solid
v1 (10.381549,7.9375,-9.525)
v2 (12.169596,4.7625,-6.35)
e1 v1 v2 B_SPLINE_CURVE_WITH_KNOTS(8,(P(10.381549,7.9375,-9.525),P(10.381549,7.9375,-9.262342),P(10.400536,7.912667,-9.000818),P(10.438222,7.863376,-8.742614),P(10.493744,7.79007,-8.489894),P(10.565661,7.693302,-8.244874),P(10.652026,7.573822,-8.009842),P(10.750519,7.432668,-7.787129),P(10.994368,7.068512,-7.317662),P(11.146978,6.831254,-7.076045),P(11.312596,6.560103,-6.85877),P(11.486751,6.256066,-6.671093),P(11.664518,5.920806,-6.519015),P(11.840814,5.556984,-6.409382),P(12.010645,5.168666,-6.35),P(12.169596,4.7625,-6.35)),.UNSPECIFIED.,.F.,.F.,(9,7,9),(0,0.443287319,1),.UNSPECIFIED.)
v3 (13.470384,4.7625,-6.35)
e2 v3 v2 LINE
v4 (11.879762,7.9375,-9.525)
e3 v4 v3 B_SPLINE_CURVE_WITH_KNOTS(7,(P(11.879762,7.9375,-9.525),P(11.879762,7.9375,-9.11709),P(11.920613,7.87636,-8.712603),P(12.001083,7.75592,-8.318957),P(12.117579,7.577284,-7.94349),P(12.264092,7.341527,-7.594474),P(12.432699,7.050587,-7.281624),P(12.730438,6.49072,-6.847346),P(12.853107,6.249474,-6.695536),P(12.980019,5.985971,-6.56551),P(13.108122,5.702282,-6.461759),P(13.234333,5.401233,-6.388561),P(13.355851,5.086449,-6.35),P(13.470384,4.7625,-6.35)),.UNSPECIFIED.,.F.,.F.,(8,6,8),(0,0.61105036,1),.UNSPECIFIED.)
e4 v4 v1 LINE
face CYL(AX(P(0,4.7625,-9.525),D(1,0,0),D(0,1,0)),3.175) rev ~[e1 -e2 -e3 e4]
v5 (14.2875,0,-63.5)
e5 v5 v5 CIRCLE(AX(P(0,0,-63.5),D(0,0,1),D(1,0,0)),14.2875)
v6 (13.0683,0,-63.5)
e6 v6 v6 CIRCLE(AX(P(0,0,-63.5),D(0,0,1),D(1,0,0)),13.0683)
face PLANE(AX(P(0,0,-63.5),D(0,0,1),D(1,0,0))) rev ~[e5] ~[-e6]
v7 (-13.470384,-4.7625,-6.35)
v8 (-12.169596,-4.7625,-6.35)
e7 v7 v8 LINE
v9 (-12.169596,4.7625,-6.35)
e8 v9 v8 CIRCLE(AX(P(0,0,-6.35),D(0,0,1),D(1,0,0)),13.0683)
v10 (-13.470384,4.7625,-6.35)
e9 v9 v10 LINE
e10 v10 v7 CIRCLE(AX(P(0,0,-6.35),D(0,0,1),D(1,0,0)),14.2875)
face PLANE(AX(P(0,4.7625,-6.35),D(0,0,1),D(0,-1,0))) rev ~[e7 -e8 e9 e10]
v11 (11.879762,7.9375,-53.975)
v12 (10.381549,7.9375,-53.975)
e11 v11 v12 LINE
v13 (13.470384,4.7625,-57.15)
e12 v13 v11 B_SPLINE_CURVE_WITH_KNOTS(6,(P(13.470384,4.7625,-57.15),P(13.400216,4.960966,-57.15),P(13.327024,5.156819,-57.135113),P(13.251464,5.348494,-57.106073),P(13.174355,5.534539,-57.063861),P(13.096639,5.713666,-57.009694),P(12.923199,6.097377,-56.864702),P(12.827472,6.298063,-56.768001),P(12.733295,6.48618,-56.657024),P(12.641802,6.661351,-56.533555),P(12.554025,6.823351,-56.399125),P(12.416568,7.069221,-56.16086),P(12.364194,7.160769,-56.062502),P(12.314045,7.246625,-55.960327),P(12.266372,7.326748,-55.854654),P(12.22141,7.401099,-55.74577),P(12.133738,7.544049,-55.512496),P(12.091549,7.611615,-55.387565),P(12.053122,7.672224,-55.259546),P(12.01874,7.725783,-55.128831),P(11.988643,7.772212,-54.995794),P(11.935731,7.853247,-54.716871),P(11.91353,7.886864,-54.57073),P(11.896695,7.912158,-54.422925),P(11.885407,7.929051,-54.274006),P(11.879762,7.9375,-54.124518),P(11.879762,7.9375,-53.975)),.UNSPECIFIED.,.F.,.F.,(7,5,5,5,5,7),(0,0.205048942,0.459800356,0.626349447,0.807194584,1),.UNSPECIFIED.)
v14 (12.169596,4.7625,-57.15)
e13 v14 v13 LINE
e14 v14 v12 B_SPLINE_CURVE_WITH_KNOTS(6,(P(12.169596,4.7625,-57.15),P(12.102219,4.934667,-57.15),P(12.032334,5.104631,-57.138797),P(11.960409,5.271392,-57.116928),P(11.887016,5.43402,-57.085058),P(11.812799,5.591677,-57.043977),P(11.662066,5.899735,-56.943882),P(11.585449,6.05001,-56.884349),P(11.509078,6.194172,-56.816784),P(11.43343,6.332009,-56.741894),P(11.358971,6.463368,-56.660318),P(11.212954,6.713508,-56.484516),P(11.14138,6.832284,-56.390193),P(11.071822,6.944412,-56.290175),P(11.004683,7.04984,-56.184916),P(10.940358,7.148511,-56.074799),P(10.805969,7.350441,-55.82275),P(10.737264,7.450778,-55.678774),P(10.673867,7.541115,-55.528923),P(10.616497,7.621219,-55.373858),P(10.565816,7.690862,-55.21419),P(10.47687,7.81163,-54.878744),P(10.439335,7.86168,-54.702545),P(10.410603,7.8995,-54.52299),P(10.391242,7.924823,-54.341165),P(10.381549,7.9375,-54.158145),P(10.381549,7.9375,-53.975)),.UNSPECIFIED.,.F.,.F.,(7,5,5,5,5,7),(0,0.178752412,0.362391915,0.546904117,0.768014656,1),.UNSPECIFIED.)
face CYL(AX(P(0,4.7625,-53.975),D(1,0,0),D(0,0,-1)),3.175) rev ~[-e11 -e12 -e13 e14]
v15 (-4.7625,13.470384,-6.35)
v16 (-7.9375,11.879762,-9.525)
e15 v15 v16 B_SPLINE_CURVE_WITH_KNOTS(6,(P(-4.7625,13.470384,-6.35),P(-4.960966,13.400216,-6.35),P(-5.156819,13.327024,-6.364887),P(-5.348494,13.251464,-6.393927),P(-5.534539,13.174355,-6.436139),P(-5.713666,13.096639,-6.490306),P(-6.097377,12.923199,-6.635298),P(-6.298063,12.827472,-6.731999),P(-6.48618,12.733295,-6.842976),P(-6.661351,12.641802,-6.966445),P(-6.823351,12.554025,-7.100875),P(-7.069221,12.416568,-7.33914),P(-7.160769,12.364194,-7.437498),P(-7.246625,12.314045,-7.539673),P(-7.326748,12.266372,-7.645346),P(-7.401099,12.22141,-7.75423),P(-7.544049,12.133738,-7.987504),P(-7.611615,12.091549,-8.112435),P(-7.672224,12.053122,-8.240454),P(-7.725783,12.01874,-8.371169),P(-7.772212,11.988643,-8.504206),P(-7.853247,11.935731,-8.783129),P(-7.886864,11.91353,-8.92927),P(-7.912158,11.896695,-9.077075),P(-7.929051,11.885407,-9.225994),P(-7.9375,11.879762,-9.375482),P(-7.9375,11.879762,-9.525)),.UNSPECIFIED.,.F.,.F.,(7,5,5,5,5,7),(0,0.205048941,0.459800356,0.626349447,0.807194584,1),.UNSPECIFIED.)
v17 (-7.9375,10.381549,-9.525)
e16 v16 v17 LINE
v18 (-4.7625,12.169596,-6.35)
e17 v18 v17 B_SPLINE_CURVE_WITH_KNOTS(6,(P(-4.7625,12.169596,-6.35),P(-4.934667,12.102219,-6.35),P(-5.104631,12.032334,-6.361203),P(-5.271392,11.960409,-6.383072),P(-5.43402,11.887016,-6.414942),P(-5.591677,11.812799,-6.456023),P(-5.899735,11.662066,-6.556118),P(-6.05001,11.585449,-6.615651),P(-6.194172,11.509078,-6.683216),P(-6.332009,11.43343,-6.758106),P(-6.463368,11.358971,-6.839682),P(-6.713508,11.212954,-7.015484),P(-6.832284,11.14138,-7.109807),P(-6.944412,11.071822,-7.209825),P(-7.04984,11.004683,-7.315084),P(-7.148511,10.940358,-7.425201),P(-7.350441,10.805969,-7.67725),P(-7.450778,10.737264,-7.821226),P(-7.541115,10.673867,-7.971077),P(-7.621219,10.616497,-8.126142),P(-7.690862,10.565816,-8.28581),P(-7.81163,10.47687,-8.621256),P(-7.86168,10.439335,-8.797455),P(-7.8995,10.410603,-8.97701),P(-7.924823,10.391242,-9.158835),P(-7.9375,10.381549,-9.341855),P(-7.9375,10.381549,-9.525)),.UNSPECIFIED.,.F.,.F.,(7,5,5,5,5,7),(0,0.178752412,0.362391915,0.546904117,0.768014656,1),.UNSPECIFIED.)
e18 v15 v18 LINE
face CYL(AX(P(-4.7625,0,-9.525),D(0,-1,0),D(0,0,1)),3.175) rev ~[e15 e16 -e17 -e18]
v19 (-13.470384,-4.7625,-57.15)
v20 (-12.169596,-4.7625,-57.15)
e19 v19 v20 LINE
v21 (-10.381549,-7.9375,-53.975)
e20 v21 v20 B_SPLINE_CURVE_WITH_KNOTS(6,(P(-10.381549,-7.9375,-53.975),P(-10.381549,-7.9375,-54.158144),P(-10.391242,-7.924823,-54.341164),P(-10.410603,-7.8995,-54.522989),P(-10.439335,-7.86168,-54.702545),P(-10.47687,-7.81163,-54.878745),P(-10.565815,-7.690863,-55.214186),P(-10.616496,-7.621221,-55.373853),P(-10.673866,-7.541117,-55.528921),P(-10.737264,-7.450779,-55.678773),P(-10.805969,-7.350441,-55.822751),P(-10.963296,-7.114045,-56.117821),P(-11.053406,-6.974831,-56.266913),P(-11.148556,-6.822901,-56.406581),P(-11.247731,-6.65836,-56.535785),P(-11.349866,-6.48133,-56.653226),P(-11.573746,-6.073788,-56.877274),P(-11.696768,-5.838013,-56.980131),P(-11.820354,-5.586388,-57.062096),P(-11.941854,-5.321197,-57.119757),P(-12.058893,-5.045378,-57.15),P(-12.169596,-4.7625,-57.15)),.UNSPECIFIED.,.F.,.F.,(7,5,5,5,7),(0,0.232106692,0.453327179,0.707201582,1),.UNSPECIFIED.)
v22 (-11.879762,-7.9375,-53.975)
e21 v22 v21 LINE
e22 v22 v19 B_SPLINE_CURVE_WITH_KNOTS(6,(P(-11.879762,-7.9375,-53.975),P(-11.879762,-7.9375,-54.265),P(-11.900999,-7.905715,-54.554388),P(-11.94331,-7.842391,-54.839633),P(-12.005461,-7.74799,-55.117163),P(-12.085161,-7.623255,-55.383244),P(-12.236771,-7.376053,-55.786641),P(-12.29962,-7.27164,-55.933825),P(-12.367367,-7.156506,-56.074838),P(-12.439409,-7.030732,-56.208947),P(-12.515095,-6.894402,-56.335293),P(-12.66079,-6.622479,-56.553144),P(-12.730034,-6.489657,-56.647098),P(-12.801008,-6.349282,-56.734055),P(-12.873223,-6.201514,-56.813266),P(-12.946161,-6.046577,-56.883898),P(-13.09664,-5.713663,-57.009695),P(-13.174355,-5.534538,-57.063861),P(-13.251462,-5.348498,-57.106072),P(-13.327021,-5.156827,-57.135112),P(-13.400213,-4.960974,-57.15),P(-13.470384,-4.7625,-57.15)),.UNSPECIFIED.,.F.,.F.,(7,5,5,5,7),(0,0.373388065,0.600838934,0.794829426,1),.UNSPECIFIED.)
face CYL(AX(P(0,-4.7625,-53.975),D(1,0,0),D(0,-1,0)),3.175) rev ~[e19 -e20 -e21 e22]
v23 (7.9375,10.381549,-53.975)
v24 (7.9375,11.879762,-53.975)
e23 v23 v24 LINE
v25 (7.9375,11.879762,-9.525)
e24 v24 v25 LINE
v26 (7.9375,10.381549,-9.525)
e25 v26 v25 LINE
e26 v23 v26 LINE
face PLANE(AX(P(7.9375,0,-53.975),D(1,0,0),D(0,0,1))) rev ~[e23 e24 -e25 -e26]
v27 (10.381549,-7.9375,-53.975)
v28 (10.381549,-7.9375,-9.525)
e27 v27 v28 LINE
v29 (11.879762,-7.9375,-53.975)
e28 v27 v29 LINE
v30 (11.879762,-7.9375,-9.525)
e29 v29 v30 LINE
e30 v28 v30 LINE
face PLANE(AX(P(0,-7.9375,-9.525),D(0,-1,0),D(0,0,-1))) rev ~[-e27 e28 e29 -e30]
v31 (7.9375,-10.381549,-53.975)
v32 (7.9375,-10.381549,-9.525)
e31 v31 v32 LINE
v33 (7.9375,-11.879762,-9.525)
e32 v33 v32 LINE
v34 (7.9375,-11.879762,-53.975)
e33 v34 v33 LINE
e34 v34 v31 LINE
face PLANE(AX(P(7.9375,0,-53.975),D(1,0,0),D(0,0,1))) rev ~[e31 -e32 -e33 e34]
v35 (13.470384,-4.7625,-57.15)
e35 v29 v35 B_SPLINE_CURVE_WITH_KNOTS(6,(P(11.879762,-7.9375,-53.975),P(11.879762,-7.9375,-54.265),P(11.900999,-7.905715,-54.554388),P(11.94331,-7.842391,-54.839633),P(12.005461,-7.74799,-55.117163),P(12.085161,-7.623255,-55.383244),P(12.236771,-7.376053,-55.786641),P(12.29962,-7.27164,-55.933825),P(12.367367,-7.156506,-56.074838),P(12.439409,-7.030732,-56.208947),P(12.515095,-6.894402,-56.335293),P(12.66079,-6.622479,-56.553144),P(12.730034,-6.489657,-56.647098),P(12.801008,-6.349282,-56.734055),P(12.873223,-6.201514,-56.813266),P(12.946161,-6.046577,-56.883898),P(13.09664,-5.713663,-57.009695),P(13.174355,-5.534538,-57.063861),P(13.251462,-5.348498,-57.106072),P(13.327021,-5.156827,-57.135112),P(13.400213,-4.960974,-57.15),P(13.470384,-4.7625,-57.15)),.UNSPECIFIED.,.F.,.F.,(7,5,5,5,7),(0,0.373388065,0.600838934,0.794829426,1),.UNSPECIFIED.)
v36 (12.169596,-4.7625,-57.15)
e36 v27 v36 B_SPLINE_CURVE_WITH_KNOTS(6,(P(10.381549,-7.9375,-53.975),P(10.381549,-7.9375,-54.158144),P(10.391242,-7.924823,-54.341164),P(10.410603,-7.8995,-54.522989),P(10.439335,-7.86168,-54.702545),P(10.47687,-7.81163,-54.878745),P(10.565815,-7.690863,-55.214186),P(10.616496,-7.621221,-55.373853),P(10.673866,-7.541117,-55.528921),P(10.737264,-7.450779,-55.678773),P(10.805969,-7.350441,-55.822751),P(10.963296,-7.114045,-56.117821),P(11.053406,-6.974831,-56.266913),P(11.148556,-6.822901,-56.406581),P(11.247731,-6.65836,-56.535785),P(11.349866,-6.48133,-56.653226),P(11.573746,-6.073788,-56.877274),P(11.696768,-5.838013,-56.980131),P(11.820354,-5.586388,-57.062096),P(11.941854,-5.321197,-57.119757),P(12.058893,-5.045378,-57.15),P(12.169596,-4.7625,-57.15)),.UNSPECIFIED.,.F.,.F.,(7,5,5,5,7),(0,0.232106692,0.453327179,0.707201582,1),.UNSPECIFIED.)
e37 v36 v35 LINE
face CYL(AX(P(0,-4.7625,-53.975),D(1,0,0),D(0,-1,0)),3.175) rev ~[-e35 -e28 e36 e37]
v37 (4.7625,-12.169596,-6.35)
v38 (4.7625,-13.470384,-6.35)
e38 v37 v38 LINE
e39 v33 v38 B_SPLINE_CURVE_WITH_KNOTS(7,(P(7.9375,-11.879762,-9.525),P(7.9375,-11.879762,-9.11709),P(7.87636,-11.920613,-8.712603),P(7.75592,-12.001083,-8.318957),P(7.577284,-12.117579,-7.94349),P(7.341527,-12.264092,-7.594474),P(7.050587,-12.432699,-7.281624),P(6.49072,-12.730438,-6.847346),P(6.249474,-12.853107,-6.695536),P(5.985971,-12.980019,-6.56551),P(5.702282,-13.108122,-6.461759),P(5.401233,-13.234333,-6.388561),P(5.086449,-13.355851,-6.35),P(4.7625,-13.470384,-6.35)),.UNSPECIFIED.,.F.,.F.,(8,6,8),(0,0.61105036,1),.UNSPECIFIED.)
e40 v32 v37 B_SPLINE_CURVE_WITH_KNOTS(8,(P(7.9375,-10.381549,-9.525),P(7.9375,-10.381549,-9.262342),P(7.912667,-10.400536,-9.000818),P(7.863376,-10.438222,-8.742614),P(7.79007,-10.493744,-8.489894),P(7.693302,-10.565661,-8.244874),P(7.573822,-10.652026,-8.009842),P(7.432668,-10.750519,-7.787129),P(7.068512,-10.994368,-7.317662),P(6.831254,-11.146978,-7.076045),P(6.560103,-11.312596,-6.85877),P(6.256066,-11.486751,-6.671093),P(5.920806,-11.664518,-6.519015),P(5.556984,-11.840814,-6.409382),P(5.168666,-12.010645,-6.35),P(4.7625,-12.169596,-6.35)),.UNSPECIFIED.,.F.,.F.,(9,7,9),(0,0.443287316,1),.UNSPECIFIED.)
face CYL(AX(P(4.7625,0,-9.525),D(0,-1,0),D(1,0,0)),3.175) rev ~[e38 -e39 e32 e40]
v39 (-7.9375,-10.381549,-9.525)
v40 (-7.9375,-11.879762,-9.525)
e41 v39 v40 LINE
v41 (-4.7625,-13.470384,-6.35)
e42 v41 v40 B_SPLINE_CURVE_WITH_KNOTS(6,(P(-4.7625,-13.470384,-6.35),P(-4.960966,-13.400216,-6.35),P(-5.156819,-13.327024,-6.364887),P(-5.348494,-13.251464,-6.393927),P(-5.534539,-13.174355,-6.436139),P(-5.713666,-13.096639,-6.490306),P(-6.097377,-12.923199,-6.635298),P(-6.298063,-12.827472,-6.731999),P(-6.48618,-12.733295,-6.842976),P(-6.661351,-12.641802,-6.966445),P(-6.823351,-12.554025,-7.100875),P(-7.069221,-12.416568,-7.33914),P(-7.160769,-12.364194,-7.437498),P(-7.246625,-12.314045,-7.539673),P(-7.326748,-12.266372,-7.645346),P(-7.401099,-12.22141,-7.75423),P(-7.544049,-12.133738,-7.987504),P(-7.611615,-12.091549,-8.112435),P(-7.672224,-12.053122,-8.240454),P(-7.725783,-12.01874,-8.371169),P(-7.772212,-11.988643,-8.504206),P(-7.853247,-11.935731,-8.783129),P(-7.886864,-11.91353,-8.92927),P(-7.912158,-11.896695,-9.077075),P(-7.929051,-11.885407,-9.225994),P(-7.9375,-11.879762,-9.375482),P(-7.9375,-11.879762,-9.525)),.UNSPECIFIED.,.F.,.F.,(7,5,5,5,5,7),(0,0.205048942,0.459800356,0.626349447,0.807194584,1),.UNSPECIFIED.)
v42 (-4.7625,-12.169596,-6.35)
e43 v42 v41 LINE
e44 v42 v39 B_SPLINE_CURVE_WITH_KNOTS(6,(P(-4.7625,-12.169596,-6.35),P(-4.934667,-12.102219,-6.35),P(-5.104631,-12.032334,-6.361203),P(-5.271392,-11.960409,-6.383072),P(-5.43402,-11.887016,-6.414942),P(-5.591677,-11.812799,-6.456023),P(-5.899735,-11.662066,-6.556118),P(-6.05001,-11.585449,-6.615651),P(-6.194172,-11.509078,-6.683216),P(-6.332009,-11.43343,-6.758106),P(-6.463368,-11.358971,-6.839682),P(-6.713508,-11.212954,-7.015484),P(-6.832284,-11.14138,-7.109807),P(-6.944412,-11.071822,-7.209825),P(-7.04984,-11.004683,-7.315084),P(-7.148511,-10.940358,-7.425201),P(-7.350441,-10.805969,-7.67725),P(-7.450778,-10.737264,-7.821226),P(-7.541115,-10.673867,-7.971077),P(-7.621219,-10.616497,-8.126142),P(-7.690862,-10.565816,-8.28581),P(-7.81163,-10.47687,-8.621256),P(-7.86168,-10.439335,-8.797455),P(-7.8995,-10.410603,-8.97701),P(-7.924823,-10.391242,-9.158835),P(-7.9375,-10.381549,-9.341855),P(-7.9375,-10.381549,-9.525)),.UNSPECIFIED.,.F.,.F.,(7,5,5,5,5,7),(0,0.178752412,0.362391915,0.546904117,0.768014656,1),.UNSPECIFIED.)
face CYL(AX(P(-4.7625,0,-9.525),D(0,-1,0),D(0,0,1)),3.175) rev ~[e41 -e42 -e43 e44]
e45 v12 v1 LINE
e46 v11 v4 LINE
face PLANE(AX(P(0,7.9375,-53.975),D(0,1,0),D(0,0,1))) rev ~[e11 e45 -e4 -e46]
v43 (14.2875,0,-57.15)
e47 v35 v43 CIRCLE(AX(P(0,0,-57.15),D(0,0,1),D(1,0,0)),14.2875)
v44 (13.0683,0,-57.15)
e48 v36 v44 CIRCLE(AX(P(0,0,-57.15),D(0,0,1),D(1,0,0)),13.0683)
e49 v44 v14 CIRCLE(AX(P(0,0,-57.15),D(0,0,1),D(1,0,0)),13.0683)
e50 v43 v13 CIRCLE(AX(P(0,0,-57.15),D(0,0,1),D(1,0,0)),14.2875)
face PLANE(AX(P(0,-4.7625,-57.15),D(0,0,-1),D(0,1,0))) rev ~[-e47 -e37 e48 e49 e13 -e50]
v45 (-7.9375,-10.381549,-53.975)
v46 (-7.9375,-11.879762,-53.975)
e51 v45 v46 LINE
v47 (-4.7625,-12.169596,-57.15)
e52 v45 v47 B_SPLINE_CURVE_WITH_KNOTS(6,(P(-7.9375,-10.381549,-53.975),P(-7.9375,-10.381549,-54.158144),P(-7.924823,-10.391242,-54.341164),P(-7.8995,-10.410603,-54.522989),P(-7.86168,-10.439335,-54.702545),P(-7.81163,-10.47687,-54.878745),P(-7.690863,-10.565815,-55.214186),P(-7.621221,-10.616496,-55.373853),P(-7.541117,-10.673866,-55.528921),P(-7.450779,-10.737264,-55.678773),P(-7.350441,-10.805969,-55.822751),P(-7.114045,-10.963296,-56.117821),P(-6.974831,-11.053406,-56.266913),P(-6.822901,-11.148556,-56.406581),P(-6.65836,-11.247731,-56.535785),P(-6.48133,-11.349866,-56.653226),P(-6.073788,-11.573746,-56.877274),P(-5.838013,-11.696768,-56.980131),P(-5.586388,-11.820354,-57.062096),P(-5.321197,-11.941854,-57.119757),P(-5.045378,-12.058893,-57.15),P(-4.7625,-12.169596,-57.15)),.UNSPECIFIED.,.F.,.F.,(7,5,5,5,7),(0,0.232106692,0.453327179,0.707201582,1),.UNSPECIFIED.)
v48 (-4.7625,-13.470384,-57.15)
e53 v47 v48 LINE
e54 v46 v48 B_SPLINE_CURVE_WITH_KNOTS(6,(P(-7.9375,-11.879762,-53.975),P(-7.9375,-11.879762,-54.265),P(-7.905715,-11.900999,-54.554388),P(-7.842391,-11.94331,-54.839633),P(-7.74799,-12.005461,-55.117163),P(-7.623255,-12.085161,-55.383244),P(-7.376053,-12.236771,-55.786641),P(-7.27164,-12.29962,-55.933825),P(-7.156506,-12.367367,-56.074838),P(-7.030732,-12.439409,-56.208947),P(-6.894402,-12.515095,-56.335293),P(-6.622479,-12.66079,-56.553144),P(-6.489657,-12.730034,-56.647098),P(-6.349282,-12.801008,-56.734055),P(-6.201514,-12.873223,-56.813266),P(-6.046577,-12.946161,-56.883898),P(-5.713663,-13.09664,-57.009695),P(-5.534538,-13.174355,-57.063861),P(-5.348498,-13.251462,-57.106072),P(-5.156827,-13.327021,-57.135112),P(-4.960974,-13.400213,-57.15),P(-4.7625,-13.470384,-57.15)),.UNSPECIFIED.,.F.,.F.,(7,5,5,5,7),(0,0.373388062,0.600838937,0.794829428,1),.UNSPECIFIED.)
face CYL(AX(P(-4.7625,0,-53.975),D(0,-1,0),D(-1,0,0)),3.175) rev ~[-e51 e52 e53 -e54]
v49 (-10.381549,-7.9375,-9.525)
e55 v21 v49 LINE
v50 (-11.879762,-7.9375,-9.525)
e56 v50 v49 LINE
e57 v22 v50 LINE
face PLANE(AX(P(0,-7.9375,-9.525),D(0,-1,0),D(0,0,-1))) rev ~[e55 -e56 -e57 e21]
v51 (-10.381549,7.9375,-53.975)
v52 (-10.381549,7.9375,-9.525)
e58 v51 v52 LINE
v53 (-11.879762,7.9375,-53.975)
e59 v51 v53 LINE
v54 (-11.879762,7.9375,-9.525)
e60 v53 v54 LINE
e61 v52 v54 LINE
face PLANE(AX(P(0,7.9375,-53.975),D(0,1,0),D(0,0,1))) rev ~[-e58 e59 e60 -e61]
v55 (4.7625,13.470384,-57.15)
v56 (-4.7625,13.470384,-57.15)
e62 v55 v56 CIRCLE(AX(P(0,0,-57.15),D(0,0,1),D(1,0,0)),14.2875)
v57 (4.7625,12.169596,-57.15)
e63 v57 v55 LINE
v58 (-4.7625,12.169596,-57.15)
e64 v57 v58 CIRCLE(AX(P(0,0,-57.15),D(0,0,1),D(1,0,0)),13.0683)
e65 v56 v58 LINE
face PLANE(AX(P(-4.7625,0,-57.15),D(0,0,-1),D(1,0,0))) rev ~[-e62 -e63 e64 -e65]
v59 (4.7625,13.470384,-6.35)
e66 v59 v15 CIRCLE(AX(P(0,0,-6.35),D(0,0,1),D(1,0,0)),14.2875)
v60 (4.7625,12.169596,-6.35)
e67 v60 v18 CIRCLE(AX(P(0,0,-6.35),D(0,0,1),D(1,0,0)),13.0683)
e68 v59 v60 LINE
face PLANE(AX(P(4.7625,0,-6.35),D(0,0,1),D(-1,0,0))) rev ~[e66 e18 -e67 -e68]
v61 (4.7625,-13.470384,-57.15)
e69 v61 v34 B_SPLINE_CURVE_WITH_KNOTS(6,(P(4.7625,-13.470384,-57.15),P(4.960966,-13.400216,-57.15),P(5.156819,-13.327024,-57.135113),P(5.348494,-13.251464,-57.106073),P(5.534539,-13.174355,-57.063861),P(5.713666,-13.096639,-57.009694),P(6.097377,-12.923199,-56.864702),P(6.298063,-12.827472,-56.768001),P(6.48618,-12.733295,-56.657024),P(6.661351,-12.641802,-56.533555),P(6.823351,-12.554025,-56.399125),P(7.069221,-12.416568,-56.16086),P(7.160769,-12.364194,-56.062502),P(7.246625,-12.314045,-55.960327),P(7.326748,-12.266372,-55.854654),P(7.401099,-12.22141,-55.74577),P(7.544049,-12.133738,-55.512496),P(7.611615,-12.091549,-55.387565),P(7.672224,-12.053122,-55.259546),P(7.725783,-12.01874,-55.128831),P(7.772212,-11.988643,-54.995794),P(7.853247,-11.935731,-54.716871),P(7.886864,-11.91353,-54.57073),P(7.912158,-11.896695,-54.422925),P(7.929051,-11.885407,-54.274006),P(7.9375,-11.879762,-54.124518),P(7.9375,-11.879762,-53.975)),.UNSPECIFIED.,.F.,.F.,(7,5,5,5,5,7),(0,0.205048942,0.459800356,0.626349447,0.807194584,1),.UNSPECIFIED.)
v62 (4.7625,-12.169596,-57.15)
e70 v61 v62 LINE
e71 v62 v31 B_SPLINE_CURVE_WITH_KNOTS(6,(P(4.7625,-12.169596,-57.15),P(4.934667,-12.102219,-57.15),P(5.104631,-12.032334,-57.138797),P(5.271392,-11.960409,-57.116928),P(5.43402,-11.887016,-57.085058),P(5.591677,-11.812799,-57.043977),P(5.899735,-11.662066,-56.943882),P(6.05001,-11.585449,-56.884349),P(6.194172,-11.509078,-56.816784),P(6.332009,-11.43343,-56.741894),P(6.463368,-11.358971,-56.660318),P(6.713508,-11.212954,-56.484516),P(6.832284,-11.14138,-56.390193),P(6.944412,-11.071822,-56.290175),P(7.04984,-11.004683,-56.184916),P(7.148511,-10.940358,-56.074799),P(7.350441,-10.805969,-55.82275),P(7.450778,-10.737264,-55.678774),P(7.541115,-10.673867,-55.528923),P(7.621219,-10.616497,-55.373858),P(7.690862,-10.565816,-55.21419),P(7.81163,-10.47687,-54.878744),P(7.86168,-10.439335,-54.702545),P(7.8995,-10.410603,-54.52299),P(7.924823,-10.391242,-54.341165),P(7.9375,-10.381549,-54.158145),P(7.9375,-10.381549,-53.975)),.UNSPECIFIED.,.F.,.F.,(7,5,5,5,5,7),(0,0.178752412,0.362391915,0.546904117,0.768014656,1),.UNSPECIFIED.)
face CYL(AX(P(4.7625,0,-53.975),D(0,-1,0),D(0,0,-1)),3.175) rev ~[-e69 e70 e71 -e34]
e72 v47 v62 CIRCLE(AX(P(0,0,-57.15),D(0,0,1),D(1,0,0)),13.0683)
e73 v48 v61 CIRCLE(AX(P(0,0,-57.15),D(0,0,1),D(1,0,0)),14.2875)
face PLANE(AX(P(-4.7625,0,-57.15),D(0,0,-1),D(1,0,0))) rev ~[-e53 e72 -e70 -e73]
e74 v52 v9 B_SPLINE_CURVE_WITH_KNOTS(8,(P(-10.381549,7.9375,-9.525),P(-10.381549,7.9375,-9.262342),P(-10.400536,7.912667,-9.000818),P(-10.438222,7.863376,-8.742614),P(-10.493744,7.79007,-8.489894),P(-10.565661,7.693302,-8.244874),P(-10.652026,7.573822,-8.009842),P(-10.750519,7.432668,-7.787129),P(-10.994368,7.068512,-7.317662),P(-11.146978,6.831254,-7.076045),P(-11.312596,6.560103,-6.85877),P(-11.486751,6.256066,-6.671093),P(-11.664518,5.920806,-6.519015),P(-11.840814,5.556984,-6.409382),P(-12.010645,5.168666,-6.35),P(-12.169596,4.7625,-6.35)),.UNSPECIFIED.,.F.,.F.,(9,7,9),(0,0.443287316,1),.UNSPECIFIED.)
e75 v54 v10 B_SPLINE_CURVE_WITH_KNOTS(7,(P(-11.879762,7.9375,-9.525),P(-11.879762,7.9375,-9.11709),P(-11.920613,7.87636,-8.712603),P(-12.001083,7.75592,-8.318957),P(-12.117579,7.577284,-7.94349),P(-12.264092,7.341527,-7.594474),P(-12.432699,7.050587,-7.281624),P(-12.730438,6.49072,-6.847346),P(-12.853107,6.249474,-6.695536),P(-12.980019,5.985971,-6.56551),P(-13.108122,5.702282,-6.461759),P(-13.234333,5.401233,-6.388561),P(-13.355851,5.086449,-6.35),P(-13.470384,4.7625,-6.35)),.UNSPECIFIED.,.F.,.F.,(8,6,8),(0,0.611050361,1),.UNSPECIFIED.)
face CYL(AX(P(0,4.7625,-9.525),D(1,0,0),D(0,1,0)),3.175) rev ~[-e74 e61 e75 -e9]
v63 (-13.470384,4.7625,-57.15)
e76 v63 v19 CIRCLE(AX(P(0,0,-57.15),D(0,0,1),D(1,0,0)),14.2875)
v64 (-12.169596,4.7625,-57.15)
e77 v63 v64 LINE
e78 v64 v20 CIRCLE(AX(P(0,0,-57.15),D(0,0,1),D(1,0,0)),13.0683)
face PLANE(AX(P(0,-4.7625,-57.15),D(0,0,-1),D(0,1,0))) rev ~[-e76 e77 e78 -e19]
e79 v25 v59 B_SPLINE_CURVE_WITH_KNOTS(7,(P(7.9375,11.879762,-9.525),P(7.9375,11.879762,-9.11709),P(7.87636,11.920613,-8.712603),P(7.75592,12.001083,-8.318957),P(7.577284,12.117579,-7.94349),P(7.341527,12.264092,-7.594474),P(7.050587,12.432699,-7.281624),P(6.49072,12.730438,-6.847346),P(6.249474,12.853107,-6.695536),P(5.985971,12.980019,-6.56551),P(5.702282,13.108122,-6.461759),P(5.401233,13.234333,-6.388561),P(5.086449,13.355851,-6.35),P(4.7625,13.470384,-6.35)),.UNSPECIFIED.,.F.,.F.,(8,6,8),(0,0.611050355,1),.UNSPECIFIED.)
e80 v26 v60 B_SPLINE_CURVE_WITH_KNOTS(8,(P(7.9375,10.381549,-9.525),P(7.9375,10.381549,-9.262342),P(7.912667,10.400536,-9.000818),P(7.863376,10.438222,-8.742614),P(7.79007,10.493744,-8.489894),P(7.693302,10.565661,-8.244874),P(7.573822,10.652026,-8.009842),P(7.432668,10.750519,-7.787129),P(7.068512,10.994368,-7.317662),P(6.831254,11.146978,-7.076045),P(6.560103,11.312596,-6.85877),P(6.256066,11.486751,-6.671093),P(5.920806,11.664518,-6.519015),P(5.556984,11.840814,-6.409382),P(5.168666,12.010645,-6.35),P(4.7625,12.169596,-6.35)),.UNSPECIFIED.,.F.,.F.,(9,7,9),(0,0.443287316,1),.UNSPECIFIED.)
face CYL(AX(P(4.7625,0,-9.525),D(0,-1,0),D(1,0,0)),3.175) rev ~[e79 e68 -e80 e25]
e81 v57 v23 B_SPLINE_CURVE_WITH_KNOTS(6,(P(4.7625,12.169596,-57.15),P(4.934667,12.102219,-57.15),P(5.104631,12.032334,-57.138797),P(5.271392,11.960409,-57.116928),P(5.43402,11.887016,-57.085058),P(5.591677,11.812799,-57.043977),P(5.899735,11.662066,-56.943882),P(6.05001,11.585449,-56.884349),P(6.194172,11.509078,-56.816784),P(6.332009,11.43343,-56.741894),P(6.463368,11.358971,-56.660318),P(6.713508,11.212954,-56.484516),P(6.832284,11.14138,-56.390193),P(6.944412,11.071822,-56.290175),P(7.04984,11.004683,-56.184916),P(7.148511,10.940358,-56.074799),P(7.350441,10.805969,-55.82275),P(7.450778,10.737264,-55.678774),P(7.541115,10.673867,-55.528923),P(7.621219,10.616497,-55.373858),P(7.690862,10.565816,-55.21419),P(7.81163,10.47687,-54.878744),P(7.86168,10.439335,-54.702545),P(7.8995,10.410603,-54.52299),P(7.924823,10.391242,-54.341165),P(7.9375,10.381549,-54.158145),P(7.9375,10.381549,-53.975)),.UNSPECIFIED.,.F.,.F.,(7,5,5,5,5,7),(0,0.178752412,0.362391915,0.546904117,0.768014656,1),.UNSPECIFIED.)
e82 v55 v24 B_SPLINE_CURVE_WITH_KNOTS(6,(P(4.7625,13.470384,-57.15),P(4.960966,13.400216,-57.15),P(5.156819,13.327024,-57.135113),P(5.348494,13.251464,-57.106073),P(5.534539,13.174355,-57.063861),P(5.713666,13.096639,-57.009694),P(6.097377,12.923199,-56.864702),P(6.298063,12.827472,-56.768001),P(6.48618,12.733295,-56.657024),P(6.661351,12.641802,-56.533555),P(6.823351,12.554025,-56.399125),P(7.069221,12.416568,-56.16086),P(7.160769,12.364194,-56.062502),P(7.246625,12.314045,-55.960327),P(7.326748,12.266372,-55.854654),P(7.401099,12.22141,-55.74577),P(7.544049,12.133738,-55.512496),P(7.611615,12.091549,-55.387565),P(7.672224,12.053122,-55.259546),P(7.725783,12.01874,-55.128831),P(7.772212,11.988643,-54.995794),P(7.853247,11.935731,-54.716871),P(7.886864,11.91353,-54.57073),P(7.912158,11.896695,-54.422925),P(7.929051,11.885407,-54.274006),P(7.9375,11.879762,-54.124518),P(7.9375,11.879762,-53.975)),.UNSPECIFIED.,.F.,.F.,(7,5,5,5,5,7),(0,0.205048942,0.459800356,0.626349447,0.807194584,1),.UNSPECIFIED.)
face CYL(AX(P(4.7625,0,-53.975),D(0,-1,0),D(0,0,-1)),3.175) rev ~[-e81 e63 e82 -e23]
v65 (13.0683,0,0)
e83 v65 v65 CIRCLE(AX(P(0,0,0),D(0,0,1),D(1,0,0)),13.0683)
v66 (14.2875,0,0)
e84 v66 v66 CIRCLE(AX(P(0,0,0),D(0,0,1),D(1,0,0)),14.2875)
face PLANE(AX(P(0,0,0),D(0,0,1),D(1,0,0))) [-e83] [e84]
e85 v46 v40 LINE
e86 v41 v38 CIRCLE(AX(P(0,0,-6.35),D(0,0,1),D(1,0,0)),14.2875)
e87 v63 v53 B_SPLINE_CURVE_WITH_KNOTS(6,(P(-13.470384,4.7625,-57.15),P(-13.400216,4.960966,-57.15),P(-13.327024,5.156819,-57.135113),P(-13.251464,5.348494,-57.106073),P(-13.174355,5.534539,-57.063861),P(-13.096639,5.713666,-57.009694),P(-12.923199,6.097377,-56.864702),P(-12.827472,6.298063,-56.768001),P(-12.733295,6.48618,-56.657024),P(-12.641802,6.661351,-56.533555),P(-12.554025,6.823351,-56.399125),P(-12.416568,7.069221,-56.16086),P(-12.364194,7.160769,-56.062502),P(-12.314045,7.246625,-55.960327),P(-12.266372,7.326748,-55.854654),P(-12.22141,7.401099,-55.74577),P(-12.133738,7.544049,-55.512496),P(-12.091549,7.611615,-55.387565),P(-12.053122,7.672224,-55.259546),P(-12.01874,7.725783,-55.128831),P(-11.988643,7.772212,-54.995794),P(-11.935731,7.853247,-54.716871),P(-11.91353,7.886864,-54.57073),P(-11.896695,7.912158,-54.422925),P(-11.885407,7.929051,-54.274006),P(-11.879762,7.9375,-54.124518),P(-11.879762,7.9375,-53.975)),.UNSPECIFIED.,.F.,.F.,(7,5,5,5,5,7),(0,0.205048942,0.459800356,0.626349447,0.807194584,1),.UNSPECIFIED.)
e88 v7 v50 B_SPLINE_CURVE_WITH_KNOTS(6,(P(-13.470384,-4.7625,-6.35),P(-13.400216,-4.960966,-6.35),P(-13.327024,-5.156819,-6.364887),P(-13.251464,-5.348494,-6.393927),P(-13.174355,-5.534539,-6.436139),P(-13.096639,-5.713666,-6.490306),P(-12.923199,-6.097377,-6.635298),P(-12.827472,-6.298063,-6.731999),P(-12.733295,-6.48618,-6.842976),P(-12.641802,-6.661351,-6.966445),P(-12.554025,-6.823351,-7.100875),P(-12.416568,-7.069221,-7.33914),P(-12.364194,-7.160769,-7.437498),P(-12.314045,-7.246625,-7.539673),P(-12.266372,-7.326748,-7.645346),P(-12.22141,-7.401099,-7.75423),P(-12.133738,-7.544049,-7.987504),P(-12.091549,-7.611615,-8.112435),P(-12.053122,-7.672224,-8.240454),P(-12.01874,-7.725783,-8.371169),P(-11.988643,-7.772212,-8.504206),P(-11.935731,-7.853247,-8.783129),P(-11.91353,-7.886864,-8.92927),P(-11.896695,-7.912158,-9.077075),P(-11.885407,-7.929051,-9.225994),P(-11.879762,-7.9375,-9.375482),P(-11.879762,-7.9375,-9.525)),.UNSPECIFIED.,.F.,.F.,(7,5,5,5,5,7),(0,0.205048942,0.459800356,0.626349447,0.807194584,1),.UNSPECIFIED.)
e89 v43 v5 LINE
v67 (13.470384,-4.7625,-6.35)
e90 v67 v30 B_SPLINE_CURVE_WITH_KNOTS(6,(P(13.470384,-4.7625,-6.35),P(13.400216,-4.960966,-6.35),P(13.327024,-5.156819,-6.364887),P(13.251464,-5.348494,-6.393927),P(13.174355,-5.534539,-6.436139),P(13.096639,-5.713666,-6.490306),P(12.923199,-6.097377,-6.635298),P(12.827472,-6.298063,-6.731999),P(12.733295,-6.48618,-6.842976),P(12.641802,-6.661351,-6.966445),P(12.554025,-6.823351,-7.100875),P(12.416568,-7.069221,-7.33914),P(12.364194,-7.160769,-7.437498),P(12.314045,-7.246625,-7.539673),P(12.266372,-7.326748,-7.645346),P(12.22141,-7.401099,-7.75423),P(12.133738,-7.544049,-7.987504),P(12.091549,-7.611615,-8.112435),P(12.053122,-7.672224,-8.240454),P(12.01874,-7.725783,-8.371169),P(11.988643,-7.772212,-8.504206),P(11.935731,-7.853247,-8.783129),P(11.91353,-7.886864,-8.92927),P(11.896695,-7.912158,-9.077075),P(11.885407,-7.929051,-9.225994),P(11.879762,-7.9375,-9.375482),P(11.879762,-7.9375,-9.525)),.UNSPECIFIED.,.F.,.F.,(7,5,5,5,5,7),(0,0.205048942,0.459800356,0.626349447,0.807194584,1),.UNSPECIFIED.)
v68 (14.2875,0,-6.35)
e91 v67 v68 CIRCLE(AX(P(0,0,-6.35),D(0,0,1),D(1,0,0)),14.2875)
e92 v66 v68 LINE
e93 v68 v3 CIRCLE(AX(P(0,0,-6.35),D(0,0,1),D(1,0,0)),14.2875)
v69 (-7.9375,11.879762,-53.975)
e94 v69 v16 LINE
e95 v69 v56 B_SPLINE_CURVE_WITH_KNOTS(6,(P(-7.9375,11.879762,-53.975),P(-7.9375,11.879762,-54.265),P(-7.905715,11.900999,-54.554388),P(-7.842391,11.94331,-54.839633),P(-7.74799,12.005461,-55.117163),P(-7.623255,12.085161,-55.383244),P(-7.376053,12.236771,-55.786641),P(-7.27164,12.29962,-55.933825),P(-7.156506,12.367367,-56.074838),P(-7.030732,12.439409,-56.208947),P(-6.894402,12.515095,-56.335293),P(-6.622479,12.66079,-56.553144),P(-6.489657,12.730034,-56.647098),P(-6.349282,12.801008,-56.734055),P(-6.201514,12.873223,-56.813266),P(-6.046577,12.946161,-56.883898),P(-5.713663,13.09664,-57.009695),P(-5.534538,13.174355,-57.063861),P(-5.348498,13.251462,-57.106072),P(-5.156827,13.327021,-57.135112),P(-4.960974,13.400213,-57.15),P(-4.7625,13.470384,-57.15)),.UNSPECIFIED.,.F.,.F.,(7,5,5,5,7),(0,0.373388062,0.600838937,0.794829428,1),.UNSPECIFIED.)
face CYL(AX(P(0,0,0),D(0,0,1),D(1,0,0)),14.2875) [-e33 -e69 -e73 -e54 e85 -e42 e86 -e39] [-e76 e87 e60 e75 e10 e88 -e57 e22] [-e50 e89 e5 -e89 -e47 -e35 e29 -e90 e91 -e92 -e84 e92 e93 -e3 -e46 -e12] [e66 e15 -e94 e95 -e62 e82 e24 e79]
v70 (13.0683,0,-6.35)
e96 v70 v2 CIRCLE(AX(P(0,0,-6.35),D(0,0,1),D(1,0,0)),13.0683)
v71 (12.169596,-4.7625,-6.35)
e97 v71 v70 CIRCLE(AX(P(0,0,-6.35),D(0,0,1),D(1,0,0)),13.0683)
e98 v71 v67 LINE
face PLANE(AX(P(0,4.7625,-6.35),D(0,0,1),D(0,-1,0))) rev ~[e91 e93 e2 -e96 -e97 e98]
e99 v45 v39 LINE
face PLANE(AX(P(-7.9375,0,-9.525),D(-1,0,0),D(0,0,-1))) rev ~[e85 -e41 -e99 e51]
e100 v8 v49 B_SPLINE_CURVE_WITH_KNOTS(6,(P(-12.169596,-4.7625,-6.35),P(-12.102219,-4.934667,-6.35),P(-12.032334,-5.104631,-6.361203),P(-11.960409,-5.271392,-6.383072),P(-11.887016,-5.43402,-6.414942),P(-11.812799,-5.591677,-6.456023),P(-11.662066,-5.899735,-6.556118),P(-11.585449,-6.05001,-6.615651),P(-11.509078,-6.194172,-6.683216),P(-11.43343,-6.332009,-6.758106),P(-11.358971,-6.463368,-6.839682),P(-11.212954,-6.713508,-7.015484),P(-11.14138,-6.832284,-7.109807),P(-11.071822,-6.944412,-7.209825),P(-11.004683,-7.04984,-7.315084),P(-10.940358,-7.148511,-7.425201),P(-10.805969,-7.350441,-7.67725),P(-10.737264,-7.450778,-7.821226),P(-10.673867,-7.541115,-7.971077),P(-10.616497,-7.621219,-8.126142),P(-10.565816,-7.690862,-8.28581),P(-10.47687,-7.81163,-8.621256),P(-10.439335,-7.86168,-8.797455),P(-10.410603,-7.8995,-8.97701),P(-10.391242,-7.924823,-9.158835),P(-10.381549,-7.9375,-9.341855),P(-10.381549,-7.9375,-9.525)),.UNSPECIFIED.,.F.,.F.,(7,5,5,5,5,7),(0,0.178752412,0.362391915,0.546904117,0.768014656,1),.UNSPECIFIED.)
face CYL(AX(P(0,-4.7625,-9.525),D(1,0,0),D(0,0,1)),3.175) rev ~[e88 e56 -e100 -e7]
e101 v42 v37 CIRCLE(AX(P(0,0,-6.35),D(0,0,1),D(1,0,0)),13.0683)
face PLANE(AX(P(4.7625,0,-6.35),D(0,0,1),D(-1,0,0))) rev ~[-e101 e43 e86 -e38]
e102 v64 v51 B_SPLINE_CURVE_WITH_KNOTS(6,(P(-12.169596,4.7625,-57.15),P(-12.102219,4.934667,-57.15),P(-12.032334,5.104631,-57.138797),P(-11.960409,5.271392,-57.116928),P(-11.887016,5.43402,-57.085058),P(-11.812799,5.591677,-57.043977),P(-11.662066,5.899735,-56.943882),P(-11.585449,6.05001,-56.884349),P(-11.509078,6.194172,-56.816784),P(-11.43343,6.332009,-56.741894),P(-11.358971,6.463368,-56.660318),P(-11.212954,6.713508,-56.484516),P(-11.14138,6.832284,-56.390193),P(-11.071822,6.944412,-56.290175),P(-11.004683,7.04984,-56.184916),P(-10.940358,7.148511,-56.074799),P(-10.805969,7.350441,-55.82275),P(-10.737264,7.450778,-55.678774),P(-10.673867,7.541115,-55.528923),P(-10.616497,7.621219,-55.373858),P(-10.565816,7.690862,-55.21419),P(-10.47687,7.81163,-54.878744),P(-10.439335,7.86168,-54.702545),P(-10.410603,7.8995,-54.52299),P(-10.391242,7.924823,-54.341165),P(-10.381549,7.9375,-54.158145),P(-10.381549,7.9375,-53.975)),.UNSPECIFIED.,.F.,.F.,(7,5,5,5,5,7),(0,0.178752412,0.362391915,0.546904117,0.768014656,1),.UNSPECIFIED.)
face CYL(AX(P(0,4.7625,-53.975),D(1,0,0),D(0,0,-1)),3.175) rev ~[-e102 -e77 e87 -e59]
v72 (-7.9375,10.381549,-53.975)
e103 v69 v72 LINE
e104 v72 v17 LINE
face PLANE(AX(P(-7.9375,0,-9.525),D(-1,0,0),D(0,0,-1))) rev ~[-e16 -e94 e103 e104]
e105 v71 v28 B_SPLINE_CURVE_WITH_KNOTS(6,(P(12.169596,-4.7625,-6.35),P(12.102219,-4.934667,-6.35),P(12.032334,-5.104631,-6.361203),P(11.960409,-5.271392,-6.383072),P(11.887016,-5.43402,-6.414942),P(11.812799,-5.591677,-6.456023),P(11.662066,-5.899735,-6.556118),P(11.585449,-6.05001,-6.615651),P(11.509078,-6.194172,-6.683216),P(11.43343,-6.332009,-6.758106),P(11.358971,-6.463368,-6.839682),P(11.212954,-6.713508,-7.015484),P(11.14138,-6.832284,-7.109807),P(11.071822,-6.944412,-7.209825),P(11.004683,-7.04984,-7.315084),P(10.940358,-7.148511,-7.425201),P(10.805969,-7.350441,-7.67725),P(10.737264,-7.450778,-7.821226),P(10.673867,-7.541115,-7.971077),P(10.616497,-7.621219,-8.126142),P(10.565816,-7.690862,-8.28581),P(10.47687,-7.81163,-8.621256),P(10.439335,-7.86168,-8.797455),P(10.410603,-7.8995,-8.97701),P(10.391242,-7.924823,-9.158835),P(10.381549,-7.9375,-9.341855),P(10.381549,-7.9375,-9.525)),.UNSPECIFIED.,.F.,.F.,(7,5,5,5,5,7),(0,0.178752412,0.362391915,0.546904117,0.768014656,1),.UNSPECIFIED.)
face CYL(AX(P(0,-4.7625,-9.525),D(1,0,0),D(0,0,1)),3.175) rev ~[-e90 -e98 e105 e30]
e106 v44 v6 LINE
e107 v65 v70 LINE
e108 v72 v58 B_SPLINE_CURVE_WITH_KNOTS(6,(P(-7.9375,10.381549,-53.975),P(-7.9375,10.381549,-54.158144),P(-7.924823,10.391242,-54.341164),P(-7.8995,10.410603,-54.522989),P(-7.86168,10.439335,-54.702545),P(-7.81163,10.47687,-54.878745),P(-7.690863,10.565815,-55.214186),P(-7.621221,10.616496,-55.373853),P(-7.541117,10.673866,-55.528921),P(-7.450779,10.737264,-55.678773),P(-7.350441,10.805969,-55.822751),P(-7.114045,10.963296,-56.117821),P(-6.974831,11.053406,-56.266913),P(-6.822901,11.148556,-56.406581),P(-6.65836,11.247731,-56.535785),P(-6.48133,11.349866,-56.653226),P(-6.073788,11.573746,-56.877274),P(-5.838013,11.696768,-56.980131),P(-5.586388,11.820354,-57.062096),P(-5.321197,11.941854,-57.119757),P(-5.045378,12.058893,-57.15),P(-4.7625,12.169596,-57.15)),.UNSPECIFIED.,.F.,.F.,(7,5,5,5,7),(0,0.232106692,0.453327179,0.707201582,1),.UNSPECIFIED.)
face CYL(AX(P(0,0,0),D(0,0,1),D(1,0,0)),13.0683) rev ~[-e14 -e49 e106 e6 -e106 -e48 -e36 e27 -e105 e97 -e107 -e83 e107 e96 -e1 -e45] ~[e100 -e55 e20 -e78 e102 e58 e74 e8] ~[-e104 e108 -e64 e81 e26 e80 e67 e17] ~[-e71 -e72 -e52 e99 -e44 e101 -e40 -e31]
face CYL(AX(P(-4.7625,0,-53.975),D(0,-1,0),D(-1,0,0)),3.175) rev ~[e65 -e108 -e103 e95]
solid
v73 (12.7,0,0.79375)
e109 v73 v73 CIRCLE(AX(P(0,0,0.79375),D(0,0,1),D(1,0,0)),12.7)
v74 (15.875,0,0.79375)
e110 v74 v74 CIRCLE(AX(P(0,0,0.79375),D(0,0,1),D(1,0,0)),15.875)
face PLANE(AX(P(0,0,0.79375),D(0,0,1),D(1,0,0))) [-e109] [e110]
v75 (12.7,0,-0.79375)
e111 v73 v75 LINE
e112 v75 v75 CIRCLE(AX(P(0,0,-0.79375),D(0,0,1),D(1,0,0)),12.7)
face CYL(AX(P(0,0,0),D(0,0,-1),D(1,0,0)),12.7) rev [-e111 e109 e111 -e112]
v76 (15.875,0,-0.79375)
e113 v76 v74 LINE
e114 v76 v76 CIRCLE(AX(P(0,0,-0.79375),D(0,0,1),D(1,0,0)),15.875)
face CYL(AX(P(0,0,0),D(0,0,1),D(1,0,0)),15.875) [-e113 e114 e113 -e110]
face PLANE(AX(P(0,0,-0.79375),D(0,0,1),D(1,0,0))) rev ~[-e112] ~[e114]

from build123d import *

# Parameters (mm, degrees)
F0_R     = 15.875
F0_R_2   = 14.2875
F0_R_3   = 13.0683
F0_R_4   = 12.7
F1_DEPTH = 0.79375
F2_DEPTH = 63.5
F4_DEPTH = 15.875
F6_DEPTH = 15.875


with BuildPart() as f1:
    # F0 (on Top) → F1 (new body, symmetric)
    with BuildSketch(Plane.XY):
        Circle(F0_R)
        Circle(F0_R_2, mode=Mode.SUBTRACT)
        Circle(F0_R_2)
        Circle(F0_R_3, mode=Mode.SUBTRACT)
        Circle(F0_R_3)
        Circle(F0_R_4, mode=Mode.SUBTRACT)
    extrude(amount=F1_DEPTH, both=True)


with BuildPart() as f2:
    # F0 (on Top) → F2 (new body)
    with BuildSketch(Plane.XY):
        Circle(F0_R_2)
        Circle(F0_R_3, mode=Mode.SUBTRACT)
    extrude(amount=-F2_DEPTH)

    # F3 (on Right) → F4 (cut, symmetric)
    with BuildSketch(Plane.YZ):
        with BuildLine():
            Line((4.7625, -6.35), (-4.7625, -6.35))
            ThreePointArc((-4.7625, -6.35), (-7.0075640303, -7.2799359697), (-7.9375, -9.525))
            Line((-7.9375, -9.525), (-7.9375, -53.975))
            ThreePointArc((-7.9375, -53.975), (-7.0075640303, -56.2200640303), (-4.7625, -57.15))
            Line((-4.7625, -57.15), (4.7625, -57.15))
            ThreePointArc((4.7625, -57.15), (7.0075640303, -56.2200640303), (7.9375, -53.975))
            Line((7.9375, -53.975), (7.9375, -9.525))
            ThreePointArc((7.9375, -9.525), (7.0075640303, -7.2799359697), (4.7625, -6.35))
        make_face()
    extrude(amount=F4_DEPTH, both=True, mode=Mode.SUBTRACT)

    # F5 (on Front) → F6 (cut, symmetric)
    with BuildSketch(Plane.XZ):
        with BuildLine():
            ThreePointArc((7.9375, -9.525), (7.0075640303, -7.2799359697), (4.7625, -6.35))
            Line((4.7625, -6.35), (-4.7625, -6.35))
            ThreePointArc((-4.7625, -6.35), (-7.0075640303, -7.2799359697), (-7.9375, -9.525))
            Line((-7.9375, -9.525), (-7.9375, -53.975))
            ThreePointArc((-7.9375, -53.975), (-7.0075640303, -56.2200640303), (-4.7625, -57.15))
            Line((-4.7625, -57.15), (4.7625, -57.15))
            ThreePointArc((4.7625, -57.15), (7.0075640303, -56.2200640303), (7.9375, -53.975))
            Line((7.9375, -53.975), (7.9375, -9.525))
        make_face()
    extrude(amount=F6_DEPTH, both=True, mode=Mode.SUBTRACT)


solid = Compound([f1.part, f2.part])
